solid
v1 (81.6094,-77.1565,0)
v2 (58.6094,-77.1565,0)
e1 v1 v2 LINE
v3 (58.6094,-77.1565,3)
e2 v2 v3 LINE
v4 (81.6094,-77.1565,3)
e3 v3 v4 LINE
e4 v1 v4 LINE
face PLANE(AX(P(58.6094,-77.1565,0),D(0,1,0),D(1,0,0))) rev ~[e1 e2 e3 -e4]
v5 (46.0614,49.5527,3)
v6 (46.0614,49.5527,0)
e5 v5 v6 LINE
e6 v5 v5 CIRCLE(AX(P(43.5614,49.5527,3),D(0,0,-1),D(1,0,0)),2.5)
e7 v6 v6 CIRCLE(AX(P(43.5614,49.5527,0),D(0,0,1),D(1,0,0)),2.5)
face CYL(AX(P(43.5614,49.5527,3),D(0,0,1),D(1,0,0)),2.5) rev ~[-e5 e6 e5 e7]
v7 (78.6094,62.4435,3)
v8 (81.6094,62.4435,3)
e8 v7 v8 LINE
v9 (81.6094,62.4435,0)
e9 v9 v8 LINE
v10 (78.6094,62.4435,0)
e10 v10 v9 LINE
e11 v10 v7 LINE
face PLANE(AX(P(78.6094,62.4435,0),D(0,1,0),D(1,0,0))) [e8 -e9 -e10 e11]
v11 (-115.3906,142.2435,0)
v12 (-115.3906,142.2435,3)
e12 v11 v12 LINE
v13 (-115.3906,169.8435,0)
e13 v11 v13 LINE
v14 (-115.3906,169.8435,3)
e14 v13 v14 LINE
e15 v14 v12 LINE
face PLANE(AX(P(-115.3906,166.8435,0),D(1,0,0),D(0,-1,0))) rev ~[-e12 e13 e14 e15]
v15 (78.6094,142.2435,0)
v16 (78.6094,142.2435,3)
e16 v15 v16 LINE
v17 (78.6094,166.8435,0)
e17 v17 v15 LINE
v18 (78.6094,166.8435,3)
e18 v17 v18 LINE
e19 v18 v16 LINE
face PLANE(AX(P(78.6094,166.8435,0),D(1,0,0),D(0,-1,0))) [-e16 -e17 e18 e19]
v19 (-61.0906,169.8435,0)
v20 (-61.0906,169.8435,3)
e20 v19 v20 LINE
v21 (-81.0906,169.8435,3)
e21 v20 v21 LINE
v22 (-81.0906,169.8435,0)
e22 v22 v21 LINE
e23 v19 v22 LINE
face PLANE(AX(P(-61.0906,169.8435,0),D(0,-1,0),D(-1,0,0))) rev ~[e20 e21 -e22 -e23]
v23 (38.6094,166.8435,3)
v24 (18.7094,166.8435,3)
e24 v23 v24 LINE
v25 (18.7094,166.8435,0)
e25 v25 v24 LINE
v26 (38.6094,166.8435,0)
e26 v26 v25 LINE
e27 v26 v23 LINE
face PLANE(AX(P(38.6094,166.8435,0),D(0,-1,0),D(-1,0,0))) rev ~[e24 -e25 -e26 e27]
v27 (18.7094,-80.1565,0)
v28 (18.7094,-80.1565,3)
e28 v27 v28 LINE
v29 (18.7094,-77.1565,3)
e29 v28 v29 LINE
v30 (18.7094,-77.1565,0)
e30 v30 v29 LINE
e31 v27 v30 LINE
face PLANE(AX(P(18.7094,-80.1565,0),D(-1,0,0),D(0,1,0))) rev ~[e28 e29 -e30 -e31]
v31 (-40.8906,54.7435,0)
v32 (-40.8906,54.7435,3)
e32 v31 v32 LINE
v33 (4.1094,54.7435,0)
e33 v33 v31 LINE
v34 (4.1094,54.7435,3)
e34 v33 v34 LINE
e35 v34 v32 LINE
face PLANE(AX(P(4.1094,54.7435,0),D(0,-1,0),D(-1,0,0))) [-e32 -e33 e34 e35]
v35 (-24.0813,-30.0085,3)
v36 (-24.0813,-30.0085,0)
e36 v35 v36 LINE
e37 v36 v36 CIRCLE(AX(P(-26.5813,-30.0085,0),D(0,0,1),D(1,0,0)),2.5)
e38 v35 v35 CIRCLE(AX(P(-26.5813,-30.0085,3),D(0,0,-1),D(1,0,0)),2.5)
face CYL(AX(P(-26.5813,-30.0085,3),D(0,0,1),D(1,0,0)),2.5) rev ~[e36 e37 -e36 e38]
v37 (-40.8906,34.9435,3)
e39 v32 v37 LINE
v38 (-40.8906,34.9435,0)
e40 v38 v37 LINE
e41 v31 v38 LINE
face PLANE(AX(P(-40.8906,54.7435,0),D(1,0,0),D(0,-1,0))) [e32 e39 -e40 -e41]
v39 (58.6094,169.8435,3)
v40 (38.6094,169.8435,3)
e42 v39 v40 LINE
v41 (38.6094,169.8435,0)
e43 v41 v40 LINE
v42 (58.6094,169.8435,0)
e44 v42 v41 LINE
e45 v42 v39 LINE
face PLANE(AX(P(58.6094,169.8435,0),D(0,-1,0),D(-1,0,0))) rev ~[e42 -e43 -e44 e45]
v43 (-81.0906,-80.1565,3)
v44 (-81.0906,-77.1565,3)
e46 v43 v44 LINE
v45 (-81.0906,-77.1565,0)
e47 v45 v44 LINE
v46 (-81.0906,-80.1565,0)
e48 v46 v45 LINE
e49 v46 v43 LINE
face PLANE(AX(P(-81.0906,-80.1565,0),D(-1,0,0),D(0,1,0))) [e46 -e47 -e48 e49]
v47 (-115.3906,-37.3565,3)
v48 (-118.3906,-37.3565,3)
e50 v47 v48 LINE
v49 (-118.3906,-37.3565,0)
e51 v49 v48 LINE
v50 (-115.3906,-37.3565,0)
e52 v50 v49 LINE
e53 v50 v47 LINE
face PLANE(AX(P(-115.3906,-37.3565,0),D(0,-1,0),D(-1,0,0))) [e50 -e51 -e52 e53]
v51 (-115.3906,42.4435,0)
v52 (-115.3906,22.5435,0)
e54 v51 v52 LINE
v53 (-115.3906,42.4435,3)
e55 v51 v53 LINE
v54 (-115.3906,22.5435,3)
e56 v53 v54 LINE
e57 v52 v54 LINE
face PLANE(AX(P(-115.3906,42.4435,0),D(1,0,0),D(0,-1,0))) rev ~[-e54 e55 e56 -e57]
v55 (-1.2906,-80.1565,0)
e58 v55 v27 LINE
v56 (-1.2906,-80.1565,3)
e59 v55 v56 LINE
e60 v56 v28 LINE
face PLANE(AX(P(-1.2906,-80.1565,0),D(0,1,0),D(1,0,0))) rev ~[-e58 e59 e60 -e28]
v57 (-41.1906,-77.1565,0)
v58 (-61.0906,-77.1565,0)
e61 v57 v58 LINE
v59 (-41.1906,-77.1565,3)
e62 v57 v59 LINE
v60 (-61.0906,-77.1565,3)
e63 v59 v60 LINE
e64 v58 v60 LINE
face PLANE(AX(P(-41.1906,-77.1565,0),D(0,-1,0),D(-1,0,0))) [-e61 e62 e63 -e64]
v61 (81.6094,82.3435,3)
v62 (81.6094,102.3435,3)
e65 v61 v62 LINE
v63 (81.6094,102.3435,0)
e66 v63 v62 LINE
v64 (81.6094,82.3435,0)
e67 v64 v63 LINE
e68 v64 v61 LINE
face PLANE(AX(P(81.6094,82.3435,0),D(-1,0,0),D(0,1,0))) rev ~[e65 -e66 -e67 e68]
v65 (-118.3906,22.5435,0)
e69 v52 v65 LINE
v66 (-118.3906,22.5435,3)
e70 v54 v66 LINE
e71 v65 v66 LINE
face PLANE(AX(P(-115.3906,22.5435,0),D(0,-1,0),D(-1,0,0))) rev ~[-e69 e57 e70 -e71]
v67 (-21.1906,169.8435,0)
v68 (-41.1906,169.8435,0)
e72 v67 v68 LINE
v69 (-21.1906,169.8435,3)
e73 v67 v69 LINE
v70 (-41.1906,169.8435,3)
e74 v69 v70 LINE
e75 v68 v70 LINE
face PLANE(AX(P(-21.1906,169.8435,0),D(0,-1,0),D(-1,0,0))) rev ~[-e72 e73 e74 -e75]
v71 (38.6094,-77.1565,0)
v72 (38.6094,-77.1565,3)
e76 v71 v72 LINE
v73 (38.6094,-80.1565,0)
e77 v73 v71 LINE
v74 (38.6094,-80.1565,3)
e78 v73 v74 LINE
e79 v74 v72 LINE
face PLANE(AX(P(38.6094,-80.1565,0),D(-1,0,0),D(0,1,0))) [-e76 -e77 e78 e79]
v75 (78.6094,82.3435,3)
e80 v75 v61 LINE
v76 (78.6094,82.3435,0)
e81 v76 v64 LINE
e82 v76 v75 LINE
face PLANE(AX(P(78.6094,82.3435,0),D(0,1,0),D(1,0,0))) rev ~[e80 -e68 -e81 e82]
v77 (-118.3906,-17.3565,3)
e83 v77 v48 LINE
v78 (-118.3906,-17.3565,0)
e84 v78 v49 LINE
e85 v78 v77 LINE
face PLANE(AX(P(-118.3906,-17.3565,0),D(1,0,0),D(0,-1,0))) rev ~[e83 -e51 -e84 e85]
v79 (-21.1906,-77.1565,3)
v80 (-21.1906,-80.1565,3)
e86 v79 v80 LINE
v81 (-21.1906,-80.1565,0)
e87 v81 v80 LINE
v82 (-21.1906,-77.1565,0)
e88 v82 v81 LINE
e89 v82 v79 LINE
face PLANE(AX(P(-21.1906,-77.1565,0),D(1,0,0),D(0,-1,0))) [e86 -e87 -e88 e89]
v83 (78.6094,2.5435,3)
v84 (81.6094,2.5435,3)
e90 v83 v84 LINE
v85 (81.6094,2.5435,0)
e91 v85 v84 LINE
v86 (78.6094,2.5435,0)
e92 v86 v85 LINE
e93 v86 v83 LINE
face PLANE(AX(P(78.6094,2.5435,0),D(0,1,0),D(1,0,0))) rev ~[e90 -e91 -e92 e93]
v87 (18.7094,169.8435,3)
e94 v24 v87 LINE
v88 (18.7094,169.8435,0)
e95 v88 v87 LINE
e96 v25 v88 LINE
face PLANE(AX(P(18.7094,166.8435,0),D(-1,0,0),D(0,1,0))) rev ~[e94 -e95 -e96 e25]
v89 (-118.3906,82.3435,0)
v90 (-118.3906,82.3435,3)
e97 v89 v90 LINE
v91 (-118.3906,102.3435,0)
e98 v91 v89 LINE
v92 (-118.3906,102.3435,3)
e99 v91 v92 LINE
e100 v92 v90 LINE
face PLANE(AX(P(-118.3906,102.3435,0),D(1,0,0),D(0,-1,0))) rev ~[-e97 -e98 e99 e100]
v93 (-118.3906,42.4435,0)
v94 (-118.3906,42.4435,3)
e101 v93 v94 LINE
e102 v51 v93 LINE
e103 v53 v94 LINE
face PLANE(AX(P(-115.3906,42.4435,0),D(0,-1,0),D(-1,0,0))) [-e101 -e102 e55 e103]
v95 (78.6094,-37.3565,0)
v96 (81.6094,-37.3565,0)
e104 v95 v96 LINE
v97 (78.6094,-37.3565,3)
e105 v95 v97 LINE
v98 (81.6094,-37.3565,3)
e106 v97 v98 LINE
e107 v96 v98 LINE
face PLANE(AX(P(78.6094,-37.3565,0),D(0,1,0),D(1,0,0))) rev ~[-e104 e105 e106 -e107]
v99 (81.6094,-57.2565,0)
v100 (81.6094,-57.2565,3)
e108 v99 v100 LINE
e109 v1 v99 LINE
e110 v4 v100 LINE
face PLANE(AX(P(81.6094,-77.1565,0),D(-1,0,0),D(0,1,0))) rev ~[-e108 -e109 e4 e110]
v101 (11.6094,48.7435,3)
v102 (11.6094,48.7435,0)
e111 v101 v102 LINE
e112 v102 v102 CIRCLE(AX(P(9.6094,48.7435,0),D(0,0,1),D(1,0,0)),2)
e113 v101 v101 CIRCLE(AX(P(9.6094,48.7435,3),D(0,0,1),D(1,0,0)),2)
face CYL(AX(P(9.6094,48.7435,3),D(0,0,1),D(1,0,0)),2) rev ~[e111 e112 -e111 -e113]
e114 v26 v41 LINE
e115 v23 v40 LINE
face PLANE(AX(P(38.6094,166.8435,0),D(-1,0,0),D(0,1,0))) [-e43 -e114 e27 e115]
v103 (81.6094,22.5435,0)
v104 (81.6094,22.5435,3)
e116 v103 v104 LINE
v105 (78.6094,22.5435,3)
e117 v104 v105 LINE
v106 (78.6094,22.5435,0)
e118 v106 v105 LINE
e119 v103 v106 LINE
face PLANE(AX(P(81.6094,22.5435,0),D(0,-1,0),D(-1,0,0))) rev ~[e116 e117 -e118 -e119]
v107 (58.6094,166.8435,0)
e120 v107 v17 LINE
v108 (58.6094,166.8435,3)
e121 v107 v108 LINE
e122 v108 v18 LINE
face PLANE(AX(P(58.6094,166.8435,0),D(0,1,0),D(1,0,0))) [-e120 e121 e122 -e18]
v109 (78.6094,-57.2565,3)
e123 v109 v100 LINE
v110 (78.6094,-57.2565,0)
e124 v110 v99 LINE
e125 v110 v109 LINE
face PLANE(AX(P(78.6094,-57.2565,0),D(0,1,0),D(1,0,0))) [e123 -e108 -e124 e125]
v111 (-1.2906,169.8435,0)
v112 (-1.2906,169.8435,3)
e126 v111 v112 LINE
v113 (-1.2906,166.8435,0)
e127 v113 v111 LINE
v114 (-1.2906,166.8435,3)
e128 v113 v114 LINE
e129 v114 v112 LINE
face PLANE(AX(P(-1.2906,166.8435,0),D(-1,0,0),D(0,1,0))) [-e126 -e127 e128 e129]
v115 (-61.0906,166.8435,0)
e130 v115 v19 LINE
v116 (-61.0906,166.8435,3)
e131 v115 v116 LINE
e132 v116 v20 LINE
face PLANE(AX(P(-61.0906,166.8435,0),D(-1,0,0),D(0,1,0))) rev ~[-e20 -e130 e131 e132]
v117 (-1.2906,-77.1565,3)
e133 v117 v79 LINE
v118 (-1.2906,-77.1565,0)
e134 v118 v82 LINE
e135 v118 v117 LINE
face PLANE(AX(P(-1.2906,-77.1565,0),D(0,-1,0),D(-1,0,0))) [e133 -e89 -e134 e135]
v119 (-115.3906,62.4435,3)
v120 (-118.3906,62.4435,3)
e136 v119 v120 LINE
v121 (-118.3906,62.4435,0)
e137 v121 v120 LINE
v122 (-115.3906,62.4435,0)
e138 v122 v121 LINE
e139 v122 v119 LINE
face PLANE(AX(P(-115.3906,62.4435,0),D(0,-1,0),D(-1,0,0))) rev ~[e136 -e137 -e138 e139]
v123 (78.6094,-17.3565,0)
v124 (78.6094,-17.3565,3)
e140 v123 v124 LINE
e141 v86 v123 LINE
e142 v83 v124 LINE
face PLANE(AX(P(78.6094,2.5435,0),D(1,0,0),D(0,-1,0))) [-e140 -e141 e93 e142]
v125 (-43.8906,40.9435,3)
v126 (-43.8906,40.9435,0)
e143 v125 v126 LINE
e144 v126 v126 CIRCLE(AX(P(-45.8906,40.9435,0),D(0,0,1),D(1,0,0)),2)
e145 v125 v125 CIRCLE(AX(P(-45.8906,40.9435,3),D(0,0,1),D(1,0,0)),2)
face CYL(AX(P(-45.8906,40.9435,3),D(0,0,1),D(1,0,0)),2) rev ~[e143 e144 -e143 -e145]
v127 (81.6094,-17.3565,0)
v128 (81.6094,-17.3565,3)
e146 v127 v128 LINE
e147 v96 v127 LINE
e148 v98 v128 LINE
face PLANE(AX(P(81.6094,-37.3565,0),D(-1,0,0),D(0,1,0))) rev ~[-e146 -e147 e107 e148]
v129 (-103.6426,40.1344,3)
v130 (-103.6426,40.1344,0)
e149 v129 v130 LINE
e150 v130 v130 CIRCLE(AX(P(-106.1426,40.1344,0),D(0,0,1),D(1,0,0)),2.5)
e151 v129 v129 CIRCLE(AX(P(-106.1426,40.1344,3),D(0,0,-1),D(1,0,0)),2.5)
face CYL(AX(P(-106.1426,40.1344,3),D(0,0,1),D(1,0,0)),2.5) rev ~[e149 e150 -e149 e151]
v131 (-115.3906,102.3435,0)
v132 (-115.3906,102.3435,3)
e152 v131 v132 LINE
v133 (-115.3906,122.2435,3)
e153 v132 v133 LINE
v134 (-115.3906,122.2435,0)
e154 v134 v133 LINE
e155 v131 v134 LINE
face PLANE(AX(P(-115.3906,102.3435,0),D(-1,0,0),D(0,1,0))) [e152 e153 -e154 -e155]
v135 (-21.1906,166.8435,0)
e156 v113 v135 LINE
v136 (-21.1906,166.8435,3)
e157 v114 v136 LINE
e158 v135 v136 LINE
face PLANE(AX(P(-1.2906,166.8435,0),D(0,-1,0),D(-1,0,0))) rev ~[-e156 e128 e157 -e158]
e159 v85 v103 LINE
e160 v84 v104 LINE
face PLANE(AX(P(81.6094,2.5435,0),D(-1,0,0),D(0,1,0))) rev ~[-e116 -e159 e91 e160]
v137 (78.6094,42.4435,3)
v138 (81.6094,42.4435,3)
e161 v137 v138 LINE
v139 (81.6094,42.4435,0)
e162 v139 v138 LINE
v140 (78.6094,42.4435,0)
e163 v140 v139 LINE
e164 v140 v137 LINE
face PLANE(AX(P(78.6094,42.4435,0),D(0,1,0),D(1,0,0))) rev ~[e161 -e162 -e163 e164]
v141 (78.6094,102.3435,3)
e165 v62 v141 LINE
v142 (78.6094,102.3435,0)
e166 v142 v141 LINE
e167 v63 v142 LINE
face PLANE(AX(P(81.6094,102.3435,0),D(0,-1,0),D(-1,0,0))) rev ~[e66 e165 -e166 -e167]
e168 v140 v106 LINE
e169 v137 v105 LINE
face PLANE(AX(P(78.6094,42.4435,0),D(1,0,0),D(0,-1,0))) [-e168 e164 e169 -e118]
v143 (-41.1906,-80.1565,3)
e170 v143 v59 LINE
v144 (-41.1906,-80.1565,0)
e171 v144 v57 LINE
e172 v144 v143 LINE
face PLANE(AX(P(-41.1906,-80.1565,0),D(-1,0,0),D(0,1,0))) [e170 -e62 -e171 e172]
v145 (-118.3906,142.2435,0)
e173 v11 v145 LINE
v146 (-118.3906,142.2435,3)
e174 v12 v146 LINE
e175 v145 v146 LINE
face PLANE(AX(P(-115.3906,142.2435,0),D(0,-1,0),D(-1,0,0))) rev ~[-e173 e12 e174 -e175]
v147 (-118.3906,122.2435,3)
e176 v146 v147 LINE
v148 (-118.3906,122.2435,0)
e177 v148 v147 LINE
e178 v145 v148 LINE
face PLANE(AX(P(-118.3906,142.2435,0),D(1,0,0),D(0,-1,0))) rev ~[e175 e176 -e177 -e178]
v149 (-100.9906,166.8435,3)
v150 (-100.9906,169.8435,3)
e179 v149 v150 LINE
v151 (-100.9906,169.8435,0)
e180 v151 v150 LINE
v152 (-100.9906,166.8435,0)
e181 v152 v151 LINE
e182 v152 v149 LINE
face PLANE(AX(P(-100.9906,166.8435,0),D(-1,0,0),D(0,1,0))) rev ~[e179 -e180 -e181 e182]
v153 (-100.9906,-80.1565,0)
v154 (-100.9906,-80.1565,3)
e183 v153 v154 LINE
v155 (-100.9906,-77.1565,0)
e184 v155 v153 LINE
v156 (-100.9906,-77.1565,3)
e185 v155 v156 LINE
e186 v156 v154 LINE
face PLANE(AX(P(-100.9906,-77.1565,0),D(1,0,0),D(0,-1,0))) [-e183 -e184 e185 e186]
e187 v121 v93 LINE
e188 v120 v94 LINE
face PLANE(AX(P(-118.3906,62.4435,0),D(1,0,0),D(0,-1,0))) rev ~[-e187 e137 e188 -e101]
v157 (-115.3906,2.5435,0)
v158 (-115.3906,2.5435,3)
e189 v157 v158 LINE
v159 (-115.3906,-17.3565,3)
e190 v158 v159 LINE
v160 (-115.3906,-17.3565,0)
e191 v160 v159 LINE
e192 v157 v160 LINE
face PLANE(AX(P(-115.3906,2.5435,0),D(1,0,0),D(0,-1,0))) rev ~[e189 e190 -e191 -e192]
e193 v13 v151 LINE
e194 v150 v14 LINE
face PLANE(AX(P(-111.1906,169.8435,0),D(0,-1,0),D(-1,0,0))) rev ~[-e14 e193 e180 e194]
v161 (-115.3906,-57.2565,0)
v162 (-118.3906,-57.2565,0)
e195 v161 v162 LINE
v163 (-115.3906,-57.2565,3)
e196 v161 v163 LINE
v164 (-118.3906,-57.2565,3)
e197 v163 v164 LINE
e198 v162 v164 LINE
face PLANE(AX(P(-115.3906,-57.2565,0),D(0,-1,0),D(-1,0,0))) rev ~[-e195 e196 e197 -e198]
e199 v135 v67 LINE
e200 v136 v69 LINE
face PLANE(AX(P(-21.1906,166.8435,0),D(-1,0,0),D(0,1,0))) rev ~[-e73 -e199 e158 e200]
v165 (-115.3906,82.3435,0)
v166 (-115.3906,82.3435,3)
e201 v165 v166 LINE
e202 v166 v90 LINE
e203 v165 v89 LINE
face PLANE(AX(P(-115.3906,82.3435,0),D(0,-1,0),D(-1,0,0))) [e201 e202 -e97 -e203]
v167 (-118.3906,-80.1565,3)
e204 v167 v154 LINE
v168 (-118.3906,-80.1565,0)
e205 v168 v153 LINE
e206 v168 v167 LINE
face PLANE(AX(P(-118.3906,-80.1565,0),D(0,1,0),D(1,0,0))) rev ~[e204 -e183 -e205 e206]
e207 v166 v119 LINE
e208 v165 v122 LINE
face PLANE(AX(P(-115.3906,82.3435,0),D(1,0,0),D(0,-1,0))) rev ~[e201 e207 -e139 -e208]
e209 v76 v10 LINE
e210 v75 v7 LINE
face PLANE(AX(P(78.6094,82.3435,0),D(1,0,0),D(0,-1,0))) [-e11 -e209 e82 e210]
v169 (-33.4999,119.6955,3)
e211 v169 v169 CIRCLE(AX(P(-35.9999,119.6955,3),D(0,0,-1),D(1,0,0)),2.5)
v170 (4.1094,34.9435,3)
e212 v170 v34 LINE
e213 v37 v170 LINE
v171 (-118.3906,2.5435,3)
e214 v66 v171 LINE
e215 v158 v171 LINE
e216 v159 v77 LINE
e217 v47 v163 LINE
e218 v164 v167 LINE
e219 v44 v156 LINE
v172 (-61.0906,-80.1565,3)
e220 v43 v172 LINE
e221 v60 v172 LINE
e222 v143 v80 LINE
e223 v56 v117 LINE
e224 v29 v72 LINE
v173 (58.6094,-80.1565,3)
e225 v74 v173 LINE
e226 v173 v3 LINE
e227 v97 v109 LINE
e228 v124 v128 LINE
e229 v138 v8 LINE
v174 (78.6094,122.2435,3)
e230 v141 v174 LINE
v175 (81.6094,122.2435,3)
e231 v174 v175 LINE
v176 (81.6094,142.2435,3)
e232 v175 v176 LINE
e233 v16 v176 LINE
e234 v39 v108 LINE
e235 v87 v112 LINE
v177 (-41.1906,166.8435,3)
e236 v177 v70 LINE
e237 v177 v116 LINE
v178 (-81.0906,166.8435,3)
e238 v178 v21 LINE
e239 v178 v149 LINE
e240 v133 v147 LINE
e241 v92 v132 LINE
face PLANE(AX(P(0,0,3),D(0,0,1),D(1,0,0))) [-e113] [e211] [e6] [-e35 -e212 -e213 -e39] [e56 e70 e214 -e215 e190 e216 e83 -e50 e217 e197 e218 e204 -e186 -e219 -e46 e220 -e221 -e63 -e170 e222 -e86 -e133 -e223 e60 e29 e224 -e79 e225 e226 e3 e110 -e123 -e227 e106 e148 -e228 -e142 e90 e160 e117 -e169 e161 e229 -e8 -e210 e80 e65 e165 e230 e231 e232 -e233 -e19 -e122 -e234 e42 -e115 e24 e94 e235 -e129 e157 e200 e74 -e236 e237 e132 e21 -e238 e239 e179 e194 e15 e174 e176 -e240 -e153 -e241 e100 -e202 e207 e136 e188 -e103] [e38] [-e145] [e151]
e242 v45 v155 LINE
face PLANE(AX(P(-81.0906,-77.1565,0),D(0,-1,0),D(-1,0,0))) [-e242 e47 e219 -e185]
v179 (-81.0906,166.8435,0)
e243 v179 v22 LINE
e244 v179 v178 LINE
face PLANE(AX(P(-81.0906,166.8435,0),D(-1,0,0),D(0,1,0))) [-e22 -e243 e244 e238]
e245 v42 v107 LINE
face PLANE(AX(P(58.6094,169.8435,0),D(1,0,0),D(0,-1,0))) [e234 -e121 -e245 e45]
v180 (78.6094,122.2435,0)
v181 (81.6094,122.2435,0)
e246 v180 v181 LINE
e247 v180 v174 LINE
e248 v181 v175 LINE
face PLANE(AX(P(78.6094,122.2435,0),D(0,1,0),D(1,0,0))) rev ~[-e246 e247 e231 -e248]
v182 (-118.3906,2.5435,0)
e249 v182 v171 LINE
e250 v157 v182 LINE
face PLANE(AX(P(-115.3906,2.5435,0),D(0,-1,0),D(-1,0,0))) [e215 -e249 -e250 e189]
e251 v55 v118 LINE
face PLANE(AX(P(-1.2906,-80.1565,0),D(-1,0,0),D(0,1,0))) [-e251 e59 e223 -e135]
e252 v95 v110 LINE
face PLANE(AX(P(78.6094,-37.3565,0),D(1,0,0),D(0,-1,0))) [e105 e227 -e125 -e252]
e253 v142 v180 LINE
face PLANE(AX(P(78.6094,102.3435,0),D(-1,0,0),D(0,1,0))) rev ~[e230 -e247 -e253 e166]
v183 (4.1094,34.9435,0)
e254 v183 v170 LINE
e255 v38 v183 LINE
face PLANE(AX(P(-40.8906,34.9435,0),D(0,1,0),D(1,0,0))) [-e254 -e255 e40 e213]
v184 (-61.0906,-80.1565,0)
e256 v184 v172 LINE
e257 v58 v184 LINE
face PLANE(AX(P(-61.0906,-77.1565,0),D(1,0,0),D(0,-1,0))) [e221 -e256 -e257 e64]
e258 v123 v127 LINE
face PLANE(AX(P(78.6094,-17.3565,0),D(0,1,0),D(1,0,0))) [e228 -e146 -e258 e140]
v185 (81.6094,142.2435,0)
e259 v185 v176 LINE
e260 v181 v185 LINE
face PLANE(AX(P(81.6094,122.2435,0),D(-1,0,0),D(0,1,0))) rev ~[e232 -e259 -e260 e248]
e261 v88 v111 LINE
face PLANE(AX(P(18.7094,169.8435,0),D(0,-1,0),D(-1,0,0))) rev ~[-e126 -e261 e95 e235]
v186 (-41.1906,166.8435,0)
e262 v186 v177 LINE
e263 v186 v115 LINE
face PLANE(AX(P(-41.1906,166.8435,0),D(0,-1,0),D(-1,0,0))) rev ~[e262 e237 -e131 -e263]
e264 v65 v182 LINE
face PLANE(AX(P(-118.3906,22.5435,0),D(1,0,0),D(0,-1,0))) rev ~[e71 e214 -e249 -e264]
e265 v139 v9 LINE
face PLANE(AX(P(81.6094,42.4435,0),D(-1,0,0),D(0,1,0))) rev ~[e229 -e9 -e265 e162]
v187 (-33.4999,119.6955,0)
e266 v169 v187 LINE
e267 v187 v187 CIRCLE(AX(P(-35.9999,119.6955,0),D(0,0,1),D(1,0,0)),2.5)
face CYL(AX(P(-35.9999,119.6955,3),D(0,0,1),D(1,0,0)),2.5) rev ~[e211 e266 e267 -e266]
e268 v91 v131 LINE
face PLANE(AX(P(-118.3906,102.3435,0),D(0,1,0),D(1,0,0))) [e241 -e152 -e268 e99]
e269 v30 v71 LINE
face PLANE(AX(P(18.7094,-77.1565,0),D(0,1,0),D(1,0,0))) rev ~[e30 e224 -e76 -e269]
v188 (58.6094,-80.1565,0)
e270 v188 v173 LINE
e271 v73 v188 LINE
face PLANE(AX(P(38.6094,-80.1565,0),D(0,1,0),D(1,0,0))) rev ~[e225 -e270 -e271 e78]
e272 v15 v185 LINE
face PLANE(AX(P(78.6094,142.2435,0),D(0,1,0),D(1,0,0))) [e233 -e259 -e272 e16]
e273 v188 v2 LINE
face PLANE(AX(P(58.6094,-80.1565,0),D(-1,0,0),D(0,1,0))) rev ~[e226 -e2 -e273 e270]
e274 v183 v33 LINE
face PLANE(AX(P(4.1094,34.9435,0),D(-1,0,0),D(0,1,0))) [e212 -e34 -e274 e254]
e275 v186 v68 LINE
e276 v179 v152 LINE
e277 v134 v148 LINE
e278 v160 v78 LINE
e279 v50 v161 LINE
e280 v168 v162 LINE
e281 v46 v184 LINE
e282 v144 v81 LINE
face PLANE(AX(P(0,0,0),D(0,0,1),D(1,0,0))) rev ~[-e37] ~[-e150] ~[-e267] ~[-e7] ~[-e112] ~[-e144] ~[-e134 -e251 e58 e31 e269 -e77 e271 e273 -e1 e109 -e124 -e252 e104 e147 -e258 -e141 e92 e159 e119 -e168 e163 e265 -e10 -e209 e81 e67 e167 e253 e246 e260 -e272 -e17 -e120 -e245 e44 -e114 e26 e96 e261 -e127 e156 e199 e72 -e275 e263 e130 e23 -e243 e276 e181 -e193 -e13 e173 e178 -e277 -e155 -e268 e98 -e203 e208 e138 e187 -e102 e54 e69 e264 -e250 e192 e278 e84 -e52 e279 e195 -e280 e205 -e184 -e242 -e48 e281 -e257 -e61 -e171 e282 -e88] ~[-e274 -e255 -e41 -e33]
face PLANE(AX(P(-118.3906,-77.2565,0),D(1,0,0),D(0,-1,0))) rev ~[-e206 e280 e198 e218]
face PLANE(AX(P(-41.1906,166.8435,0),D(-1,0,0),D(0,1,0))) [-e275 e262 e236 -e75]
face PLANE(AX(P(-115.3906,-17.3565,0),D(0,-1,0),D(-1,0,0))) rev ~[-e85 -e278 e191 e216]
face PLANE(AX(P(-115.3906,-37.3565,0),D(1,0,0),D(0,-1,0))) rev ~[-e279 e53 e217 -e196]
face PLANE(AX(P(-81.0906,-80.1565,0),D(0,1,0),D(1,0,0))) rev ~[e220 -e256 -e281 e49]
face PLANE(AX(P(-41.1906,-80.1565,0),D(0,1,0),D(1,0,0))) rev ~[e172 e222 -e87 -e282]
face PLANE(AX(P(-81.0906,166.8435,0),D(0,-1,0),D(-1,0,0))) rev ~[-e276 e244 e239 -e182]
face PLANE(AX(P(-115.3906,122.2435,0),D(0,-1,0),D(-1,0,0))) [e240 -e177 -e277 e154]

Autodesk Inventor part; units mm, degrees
ref_plane "YZ Plane" through (0, 0, 0) normal (1, 0, 0) x (0, 1, 0)
ref_plane "XZ Plane" through (0, 0, 0) normal (0, 1, 0) x (-1, 0, 0)
ref_plane "XY Plane" through (0, 0, 0) normal (0, 0, 1) x (1, 0, 0)
sketch "Sketch1" plane through (0, 0, 0) normal (0, 0, 1) x (1, 0, 0)
  line L0 (81.6094, 169.8435) -> (-118.3906, 169.8435)
  line L1 (-118.3906, 169.8435) -> (-118.3906, -80.1565)
  line L2 (-118.3906, -80.1565) -> (81.6094, -80.1565)
  line L3 (81.6094, -80.1565) -> (81.6094, 169.8435)
  line L4 (81.6094, 169.8435) -> (58.6094, 169.8435)
  line L5 (58.6094, 169.8435) -> (58.6094, 166.8435)
  line L6 (58.6094, 166.8435) -> (81.6094, 166.8435)
  line L7 (81.6094, 166.8435) -> (81.6094, 169.8435)
  line L8 (58.6094, 166.8435) -> (38.6094, 166.8435)
  line L9 (38.6094, 166.8435) -> (38.6094, 169.8435)
  line L10 (38.6094, 169.8435) -> (58.6094, 169.8435)
  line L11 (58.6094, 169.8435) -> (58.6094, 166.8435)
  line L12 (38.6094, 166.8435) -> (18.7094, 166.8435)
  line L13 (18.7094, 166.8435) -> (18.7094, 169.8435)
  line L14 (18.7094, 169.8435) -> (38.6094, 169.8435)
  line L15 (38.6094, 169.8435) -> (38.6094, 166.8435)
  line L16 (18.7094, 166.8435) -> (-1.2906, 166.8435)
  line L17 (-1.2906, 166.8435) -> (-1.2906, 169.8435)
  line L18 (-1.2906, 169.8435) -> (18.7094, 169.8435)
  line L19 (18.7094, 169.8435) -> (18.7094, 166.8435)
  line L20 (-1.2906, 166.8435) -> (-21.1906, 166.8435)
  line L21 (-21.1906, 166.8435) -> (-21.1906, 169.8435)
  line L22 (-21.1906, 169.8435) -> (-1.2906, 169.8435)
  line L23 (-1.2906, 169.8435) -> (-1.2906, 166.8435)
  line L24 (-21.1906, 166.8435) -> (-41.1906, 166.8435)
  line L25 (-41.1906, 166.8435) -> (-41.1906, 169.8435)
  line L26 (-41.1906, 169.8435) -> (-21.1906, 169.8435)
  line L27 (-21.1906, 169.8435) -> (-21.1906, 166.8435)
  line L28 (-111.1906, 169.8435) -> (-91.1906, 169.8435)
  line L29 (-91.1906, 169.8435) -> (-118.3906, 169.8435)
  line L30 (-118.3906, 169.8435) -> (-118.3906, 166.8435)
  line L31 (-118.3906, 166.8435) -> (-115.3906, 166.8435)
  line L32 (-118.3906, 142.8435) -> (-118.3906, 166.8435)
  line L33 (-118.3906, 169.8435) -> (-115.3906, 169.8435)
  line L34 (-115.3906, 169.8435) -> (-115.3906, 142.2435)
  line L35 (-115.3906, 142.2435) -> (-118.3906, 142.2435)
  line L36 (-118.3906, 142.2435) -> (-118.3906, 169.8435)
  line L37 (-118.3906, 142.2435) -> (-115.3906, 142.2435)
  line L38 (-115.3906, 142.2435) -> (-115.3906, 122.2435)
  line L39 (-115.3906, 122.2435) -> (-118.3906, 122.2435)
  line L40 (-118.3906, 122.2435) -> (-118.3906, 142.2435)
  line L41 (-115.3906, 122.2435) -> (-118.3906, 122.2435)
  line L42 (-118.3906, 122.2435) -> (-118.3906, 102.3435)
  line L43 (-118.3906, 102.3435) -> (-115.3906, 102.3435)
  line L44 (-115.3906, 102.3435) -> (-115.3906, 122.2435)
  line L45 (-118.3906, 102.3435) -> (-115.3906, 102.3435)
  line L46 (-115.3906, 102.3435) -> (-115.3906, 82.3435)
  line L47 (-115.3906, 82.3435) -> (-118.3906, 82.3435)
  line L48 (-118.3906, 82.3435) -> (-118.3906, 102.3435)
  line L49 (-118.3906, 82.3435) -> (-115.3906, 82.3435)
  line L50 (-115.3906, 82.3435) -> (-115.3906, 62.4435)
  line L51 (-115.3906, 62.4435) -> (-118.3906, 62.4435)
  line L52 (-118.3906, 62.4435) -> (-118.3906, 82.3435)
  line L53 (-118.3906, 62.4435) -> (-115.3906, 62.4435)
  line L54 (-115.3906, 62.4435) -> (-115.3906, 42.4435)
  line L55 (-115.3906, 42.4435) -> (-118.3906, 42.4435)
  line L56 (-118.3906, 42.4435) -> (-118.3906, 62.4435)
  line L57 (-118.3906, 42.4435) -> (-115.3906, 42.4435)
  line L58 (-115.3906, 42.4435) -> (-115.3906, 22.5435)
  line L59 (-115.3906, 22.5435) -> (-118.3906, 22.5435)
  line L60 (-118.3906, 22.5435) -> (-118.3906, 42.4435)
  line L61 (-118.3906, 22.5435) -> (-115.3906, 22.5435)
  line L62 (-115.3906, 22.5435) -> (-115.3906, 2.5435)
  line L63 (-115.3906, 2.5435) -> (-118.3906, 2.5435)
  line L64 (-118.3906, 2.5435) -> (-118.3906, 22.5435)
  line L65 (-118.3906, 2.5435) -> (-115.3906, 2.5435)
  line L66 (-115.3906, 2.5435) -> (-115.3906, -17.3565)
  line L67 (-115.3906, -17.3565) -> (-118.3906, -17.3565)
  line L68 (-118.3906, -17.3565) -> (-118.3906, 2.5435)
  line L69 (-118.3906, -17.3565) -> (-115.3906, -17.3565)
  line L70 (-115.3906, -17.3565) -> (-115.3906, -37.3565)
  line L71 (-115.3906, -37.3565) -> (-118.3906, -37.3565)
  line L72 (-118.3906, -37.3565) -> (-118.3906, -17.3565)
  line L73 (-118.3906, -37.3565) -> (-115.3906, -37.3565)
  line L74 (-115.3906, -37.3565) -> (-115.3906, -57.2565)
  line L75 (-115.3906, -57.2565) -> (-118.3906, -57.2565)
  line L76 (-118.3906, -57.2565) -> (-118.3906, -37.3565)
  line L77 (-118.3906, -57.2565) -> (-115.3906, -57.2565)
  line L78 (-115.3906, -57.2565) -> (-115.3906, -77.2565)
  line L79 (-115.3906, -77.2565) -> (-118.3906, -77.2565)
  line L80 (-118.3906, -77.2565) -> (-118.3906, -57.2565)
  line L81 (81.6094, 169.8435) -> (81.6094, -80.1565)
  line L82 (81.6094, 169.8435) -> (81.6094, 166.8435)
  line L83 (81.6094, 166.8435) -> (78.6094, 166.8435)
  line L84 (81.6094, 169.8435) -> (78.6094, 169.8435)
  line L85 (78.6094, 169.8435) -> (78.6094, 142.2435)
  line L86 (81.6094, 142.2435) -> (81.6094, 169.8435)
  line L87 (81.6094, 142.8435) -> (81.6094, 166.8435)
  line L88 (78.6094, 142.2435) -> (81.6094, 142.2435)
  line L89 (81.6094, 142.2435) -> (78.6094, 142.2435)
  line L90 (78.6094, 142.2435) -> (78.6094, 122.2435)
  line L91 (78.6094, 122.2435) -> (81.6094, 122.2435)
  line L92 (78.6094, 122.2435) -> (81.6094, 122.2435)
  line L93 (81.6094, 122.2435) -> (81.6094, 142.2435)
  line L94 (78.6094, 102.3435) -> (78.6094, 122.2435)
  line L95 (81.6094, 122.2435) -> (81.6094, 102.3435)
  line L96 (81.6094, 102.3435) -> (78.6094, 102.3435)
  line L97 (81.6094, 102.3435) -> (78.6094, 102.3435)
  line L98 (78.6094, 102.3435) -> (78.6094, 82.3435)
  line L99 (81.6094, 82.3435) -> (81.6094, 102.3435)
  line L100 (78.6094, 82.3435) -> (81.6094, 82.3435)
  line L101 (81.6094, 82.3435) -> (78.6094, 82.3435)
  line L102 (78.6094, 82.3435) -> (78.6094, 62.4435)
  line L103 (81.6094, 62.4435) -> (81.6094, 82.3435)
  line L104 (78.6094, 62.4435) -> (81.6094, 62.4435)
  line L105 (81.6094, 62.4435) -> (78.6094, 62.4435)
  line L106 (78.6094, 62.4435) -> (78.6094, 42.4435)
  line L107 (81.6094, 42.4435) -> (81.6094, 62.4435)
  line L108 (78.6094, 42.4435) -> (81.6094, 42.4435)
  line L109 (81.6094, 42.4435) -> (78.6094, 42.4435)
  line L110 (81.6094, 22.5435) -> (81.6094, 42.4435)
  line L111 (78.6094, 42.4435) -> (78.6094, 22.5435)
  line L112 (78.6094, 2.5435) -> (81.6094, 2.5435)
  line L113 (81.6094, 2.5435) -> (78.6094, 2.5435)
  line L114 (81.6094, 22.5435) -> (78.6094, 22.5435)
  line L115 (81.6094, 2.5435) -> (81.6094, 22.5435)
  line L116 (78.6094, 22.5435) -> (78.6094, 2.5435)
  line L117 (78.6094, 2.5435) -> (78.6094, -17.3565)
  line L118 (81.6094, -17.3565) -> (81.6094, 2.5435)
  line L119 (78.6094, 22.5435) -> (81.6094, 22.5435)
  line L120 (78.6094, -17.3565) -> (78.6094, -37.3565)
  line L121 (78.6094, -17.3565) -> (81.6094, -17.3565)
  line L122 (81.6094, -37.3565) -> (81.6094, -17.3565)
  line L123 (78.6094, -57.2565) -> (81.6094, -57.2565)
  line L124 (81.6094, -57.2565) -> (78.6094, -57.2565)
  line L125 (78.6094, -37.3565) -> (78.6094, -57.2565)
  line L126 (81.6094, -57.2565) -> (81.6094, -37.3565)
  line L127 (78.6094, -77.2565) -> (81.6094, -77.2565)
  line L128 (78.6094, -57.2565) -> (78.6094, -77.2565)
  line L129 (81.6094, -77.2565) -> (81.6094, -57.2565)
  line L130 (81.6094, -17.3565) -> (78.6094, -17.3565)
  line L131 (78.6094, -37.3565) -> (81.6094, -37.3565)
  line L132 (81.6094, -37.3565) -> (78.6094, -37.3565)
  line L133 (81.6094, -80.1565) -> (58.6094, -80.1565)
  line L134 (58.6094, -80.1565) -> (58.6094, -77.1565)
  line L135 (58.6094, -77.1565) -> (81.6094, -77.1565)
  line L136 (81.6094, -77.1565) -> (81.6094, -80.1565)
  line L137 (58.6094, -80.1565) -> (38.6094, -80.1565)
  line L138 (38.6094, -80.1565) -> (38.6094, -77.1565)
  line L139 (38.6094, -77.1565) -> (58.6094, -77.1565)
  line L140 (58.6094, -77.1565) -> (58.6094, -80.1565)
  line L141 (38.6094, -80.1565) -> (18.7094, -80.1565)
  line L142 (18.7094, -80.1565) -> (18.7094, -77.1565)
  line L143 (18.7094, -77.1565) -> (38.6094, -77.1565)
  line L144 (38.6094, -77.1565) -> (38.6094, -80.1565)
  line L145 (18.7094, -80.1565) -> (-1.2906, -80.1565)
  line L146 (-1.2906, -80.1565) -> (-1.2906, -77.1565)
  line L147 (-1.2906, -77.1565) -> (18.7094, -77.1565)
  line L148 (18.7094, -77.1565) -> (18.7094, -80.1565)
  line L149 (-1.2906, -77.1565) -> (-21.1906, -77.1565)
  line L150 (-21.1906, -77.1565) -> (-21.1906, -80.1565)
  line L151 (-21.1906, -80.1565) -> (-1.2906, -80.1565)
  line L152 (-1.2906, -80.1565) -> (-1.2906, -77.1565)
  line L153 (-21.1906, -80.1565) -> (-41.1906, -80.1565)
  line L154 (-41.1906, -80.1565) -> (-41.1906, -77.1565)
  line L155 (-41.1906, -77.1565) -> (-21.1906, -77.1565)
  line L156 (-21.1906, -77.1565) -> (-21.1906, -80.1565)
  line L157 (-41.1906, -77.1565) -> (-111.0906, -77.1565)
  line L158 (-61.0906, -80.1565) -> (-41.1906, -80.1565)
  line L159 (-41.1906, -80.1565) -> (-41.1906, -77.1565)
  line L160 (-111.0906, -77.1565) -> (-118.3906, -77.1565)
  line L161 (-118.3906, -77.1565) -> (-118.3906, -80.1565)
  line L162 (-118.3906, -80.1565) -> (-61.0906, -80.1565)
  line L163 (-61.0906, -80.1565) -> (-81.0906, -80.1565)
  line L164 (-81.0906, -80.1565) -> (-81.0906, -77.1565)
  line L165 (-81.0906, -77.1565) -> (-61.0906, -77.1565)
  line L166 (-61.0906, -77.1565) -> (-61.0906, -80.1565)
  line L167 (-81.0906, -77.1565) -> (-100.9906, -77.1565)
  line L168 (-100.9906, -77.1565) -> (-100.9906, -80.1565)
  line L169 (-100.9906, -80.1565) -> (-81.0906, -80.1565)
  line L170 (-81.0906, -80.1565) -> (-81.0906, -77.1565)
  line L171 (-41.1906, 166.8435) -> (-61.0906, 166.8435)
  line L172 (-61.0906, 166.8435) -> (-61.0906, 169.8435)
  line L173 (-61.0906, 169.8435) -> (-41.1906, 169.8435)
  line L174 (-41.1906, 169.8435) -> (-41.1906, 166.8435)
  line L175 (-61.0906, 166.8435) -> (-81.0906, 166.8435)
  line L176 (-81.0906, 166.8435) -> (-81.0906, 169.8435)
  line L177 (-81.0906, 169.8435) -> (-61.0906, 169.8435)
  line L178 (-61.0906, 169.8435) -> (-61.0906, 166.8435)
  line L179 (-81.0906, 166.8435) -> (-100.9906, 166.8435)
  line L180 (-100.9906, 166.8435) -> (-100.9906, 169.8435)
  line L181 (-100.9906, 169.8435) -> (-81.0906, 169.8435)
  line L182 (-81.0906, 169.8435) -> (-81.0906, 166.8435)
  line L183 (-100.9906, 166.8435) -> (-118.3906, 166.8435)
  line L184 (-118.3906, 166.8435) -> (-118.3906, 169.8435)
  line L185 (-118.3906, 169.8435) -> (-100.9906, 169.8435)
  line L186 (-100.9906, 169.8435) -> (-100.9906, 166.8435)
  line L187 (-40.8906, 34.9435) -> (4.1094, 34.9435)
  line L188 (4.1094, 34.9435) -> (4.1094, 54.7435)
  line L189 (4.1094, 54.7435) -> (-40.8906, 54.7435)
  line L190 (-40.8906, 54.7435) -> (-40.8906, 34.9435)
  point P0 (0, 0)
  point P1 (6.6094, -153.3151)
  point P2 (74.4094, 169.8435)
  point P3 (-115.3906, 2.5435)
  point P4 (-115.3906, -77.1565)
  point P5 (78.6094, -77.1565)
  point P6 (38.6094, 169.8435)
  point P7 (-118.3906, -57.2565)
  point P8 (-118.3906, -77.2565)
  point P9 (-118.3906, -17.3565)
  point P10 (-118.3906, -37.3565)
  point P11 (-118.3906, 22.5435)
  point P12 (-118.3906, 2.5435)
  point P13 (-118.3906, 42.4435)
  point P14 (-118.3906, 142.2435)
  point P15 (-118.3906, 122.2435)
  point P16 (-115.3906, -37.3565)
  point P17 (-118.3906, -77.1565)
  point P18 (-118.3906, 42.4435)
  point P19 (-118.3906, 22.5435)
  point P20 (-118.3906, 2.5435)
  point P21 (-118.3906, -17.3565)
  point P22 (-115.3906, 169.8435)
  point P23 (-118.3906, 44.8435)
  point P24 (-40.8906, 44.8435)
  point P25 (-31.1906, -80.1565)
  dimension "d0" = 200
  dimension "d1" = 250
  dimension "d2" = 23
  dimension "d3" = 3
  dimension "d4" = 20
  dimension "d5" = 19.9
  dimension "d6" = 20
  dimension "d7" = 19.9
  dimension "d8" = 20
  dimension "d9" = 3
  dimension "d10" = 27.6
  dimension "d11" = 3
  dimension "d12" = 20
  dimension "d13" = 19.9
  dimension "d14" = 20
  dimension "d15" = 19.9
  dimension "d16" = 20
  dimension "d17" = 19.9
  dimension "d18" = 20
  dimension "d19" = 19.9
  dimension "d20" = 20
  dimension "d21" = 3
  dimension "d22" = 19.9
  dimension "d23" = 20
  dimension "d24" = 23
  dimension "d25" = 3
  dimension "d26" = 20
  dimension "d27" = 19.9
  dimension "d28" = 19.9
  dimension "d29" = 19.9
  dimension "d32" = 20
  dimension "d33" = 19.9
  dimension "d34" = 19.9
  dimension "d35" = 20
  dimension "d36" = 19.9
  dimension "d37" = 45
  dimension "d38" = 19.8
  dimension "d39" = 77.5
  dimension "d40" = 115.1
extrude "Extrusion1" add sketch "Sketch1" along normal blind 3 contours L5 L8 L9 L0 | L85 L90 L94 L98 L102 L106 L111 L116 L117 L120 L125 L128 L135 L139 L143 L147 L149 L155 L157 L160 L78 L74 L70 L66 L62 L58 L54 L50 L46 L44 L38 L34 L183 L179 L175 L171 L24 L20 L16 L12 L8 L6 | L88 L3 L91 L90 | L13 L16 L17 L0 | L96 L3 L100 L98 | L21 L24 L25 L0 | L104 L3 L108 L106 | L172 L175 L176 L0 | L114 L3 L112 L116 | L180 L183 L34 L0 | L121 L3 L131 L120 | L38 L39 L1 L35 | L123 L3 L135 L128 | L46 L47 L1 L43 | L134 L2 L138 L139 | L54 L55 L1 L51 | L142 L2 L146 L147 | L62 L63 L1 L59 | L150 L2 L154 L155 | L70 L71 L1 L67 | L166 L2 L164 L157 | L78 L160 L1 L75 | L168 L2 L1 L79 L78 L160 L157 | L78 L79 L1 L160 | L190 L189 L188 L187
extrude "Extrusion2" cut sketch "Sketch1" along normal blind 3 contours L190 L189 L188 L187
sketch "Sketch2" plane through (0, 0, 3) normal (0, 0, 1) x (1, 0, 0)
  circle A0 centre (-31.2906, 44.8435) radius 75
  line L0 (-31.2906, 44.8435) -> (56.203, 50.348)
  line L1 (56.203, 50.348) -> (-118.9373, 39.3294)
  line L2 (-31.2906, 44.8435) -> (-24.9201, -56.4117)
  line L3 (-31.2906, 44.8435) -> (70.1649, 44.8435) construction
  line L4 (-24.9201, -56.4117) -> (-36.9493, 134.7868)
  circle A1 centre (43.5614, 49.5527) radius 2.5
  circle A2 centre (-106.1426, 40.1344) radius 2.5
  circle A3 centre (-35.9999, 119.6955) radius 2.5
  circle A4 centre (-26.5813, -30.0085) radius 2.5
  line L5 (4.1094, 34.9435) -> (-40.8906, 34.9435) projected
  line L6 (-40.8906, 54.7435) -> (4.1094, 54.7435) projected
  line L7 (4.1094, 34.9435) -> (-40.8906, 34.9435)
  line L8 (-40.8906, 34.9435) -> (-40.8906, 54.7435)
  line L9 (-40.8906, 54.7435) -> (4.1094, 54.7435)
  line L10 (4.1094, 54.7435) -> (4.1094, 34.9435)
  line L11 (-40.8906, 34.9435) -> (-40.8906, 54.7435) projected
  circle A5 centre (-31.2906, 44.8435) radius 1.6
  point P0 (0, 0)
  dimension "d43" = 150
  dimension "d44" = 86.4
  dimension "d45" = 5
  dimension "d46" = 5
  dimension "d47" = 5
  dimension "d48" = 5
  dimension "d49" = 9.9
  dimension "d50" = 9.6
  dimension "d51" = 3.2
extrude "Extrusion3" cut sketch "Sketch2" against normal blind 3 contours A1 L0 A0 | A0 L0 A1 | A4 L2 A0 | A0 L2 A4 | L0 A1 A0 | A0 A1 L0 | L2 A4 A0 | A0 A4 L2 | A3 L4 A0 | A0 L4 A3 | A2 L1 A0 | A0 L1 A2 | L4 A3 A0 | A0 A3 L4 | L1 A2 A0 | A0 A2 L1
sketch "Sketch3" plane through (0, 0, 3) normal (0, 0, 1) x (1, 0, 0)
  circle A0 centre (-45.8906, 40.9435) radius 2
  circle A1 centre (9.6094, 48.7435) radius 2
  line L0 (-40.8906, 34.9435) -> (-40.8906, 54.7435) projected
  line L1 (4.1094, 54.7435) -> (4.1094, 34.9435) projected
  line L2 (-40.8906, 54.7435) -> (4.1094, 54.7435) projected
  line L3 (4.1094, 34.9435) -> (-40.8906, 34.9435) projected
  point P0 (0, 0)
  dimension "d54" = 4
  dimension "d55" = 4
  dimension "d56" = 5
  dimension "d57" = 5.5
  dimension "d58" = 6
  dimension "d59" = 6
extrude "Extrusion4" cut sketch "Sketch3" against normal blind 3 contours A0 | A1
equation "\"d39\" = -0.5 * d37 + 0.5 * d0"
equation "\"d40\" = -0.5 * d38 + 0.5 * d1"
